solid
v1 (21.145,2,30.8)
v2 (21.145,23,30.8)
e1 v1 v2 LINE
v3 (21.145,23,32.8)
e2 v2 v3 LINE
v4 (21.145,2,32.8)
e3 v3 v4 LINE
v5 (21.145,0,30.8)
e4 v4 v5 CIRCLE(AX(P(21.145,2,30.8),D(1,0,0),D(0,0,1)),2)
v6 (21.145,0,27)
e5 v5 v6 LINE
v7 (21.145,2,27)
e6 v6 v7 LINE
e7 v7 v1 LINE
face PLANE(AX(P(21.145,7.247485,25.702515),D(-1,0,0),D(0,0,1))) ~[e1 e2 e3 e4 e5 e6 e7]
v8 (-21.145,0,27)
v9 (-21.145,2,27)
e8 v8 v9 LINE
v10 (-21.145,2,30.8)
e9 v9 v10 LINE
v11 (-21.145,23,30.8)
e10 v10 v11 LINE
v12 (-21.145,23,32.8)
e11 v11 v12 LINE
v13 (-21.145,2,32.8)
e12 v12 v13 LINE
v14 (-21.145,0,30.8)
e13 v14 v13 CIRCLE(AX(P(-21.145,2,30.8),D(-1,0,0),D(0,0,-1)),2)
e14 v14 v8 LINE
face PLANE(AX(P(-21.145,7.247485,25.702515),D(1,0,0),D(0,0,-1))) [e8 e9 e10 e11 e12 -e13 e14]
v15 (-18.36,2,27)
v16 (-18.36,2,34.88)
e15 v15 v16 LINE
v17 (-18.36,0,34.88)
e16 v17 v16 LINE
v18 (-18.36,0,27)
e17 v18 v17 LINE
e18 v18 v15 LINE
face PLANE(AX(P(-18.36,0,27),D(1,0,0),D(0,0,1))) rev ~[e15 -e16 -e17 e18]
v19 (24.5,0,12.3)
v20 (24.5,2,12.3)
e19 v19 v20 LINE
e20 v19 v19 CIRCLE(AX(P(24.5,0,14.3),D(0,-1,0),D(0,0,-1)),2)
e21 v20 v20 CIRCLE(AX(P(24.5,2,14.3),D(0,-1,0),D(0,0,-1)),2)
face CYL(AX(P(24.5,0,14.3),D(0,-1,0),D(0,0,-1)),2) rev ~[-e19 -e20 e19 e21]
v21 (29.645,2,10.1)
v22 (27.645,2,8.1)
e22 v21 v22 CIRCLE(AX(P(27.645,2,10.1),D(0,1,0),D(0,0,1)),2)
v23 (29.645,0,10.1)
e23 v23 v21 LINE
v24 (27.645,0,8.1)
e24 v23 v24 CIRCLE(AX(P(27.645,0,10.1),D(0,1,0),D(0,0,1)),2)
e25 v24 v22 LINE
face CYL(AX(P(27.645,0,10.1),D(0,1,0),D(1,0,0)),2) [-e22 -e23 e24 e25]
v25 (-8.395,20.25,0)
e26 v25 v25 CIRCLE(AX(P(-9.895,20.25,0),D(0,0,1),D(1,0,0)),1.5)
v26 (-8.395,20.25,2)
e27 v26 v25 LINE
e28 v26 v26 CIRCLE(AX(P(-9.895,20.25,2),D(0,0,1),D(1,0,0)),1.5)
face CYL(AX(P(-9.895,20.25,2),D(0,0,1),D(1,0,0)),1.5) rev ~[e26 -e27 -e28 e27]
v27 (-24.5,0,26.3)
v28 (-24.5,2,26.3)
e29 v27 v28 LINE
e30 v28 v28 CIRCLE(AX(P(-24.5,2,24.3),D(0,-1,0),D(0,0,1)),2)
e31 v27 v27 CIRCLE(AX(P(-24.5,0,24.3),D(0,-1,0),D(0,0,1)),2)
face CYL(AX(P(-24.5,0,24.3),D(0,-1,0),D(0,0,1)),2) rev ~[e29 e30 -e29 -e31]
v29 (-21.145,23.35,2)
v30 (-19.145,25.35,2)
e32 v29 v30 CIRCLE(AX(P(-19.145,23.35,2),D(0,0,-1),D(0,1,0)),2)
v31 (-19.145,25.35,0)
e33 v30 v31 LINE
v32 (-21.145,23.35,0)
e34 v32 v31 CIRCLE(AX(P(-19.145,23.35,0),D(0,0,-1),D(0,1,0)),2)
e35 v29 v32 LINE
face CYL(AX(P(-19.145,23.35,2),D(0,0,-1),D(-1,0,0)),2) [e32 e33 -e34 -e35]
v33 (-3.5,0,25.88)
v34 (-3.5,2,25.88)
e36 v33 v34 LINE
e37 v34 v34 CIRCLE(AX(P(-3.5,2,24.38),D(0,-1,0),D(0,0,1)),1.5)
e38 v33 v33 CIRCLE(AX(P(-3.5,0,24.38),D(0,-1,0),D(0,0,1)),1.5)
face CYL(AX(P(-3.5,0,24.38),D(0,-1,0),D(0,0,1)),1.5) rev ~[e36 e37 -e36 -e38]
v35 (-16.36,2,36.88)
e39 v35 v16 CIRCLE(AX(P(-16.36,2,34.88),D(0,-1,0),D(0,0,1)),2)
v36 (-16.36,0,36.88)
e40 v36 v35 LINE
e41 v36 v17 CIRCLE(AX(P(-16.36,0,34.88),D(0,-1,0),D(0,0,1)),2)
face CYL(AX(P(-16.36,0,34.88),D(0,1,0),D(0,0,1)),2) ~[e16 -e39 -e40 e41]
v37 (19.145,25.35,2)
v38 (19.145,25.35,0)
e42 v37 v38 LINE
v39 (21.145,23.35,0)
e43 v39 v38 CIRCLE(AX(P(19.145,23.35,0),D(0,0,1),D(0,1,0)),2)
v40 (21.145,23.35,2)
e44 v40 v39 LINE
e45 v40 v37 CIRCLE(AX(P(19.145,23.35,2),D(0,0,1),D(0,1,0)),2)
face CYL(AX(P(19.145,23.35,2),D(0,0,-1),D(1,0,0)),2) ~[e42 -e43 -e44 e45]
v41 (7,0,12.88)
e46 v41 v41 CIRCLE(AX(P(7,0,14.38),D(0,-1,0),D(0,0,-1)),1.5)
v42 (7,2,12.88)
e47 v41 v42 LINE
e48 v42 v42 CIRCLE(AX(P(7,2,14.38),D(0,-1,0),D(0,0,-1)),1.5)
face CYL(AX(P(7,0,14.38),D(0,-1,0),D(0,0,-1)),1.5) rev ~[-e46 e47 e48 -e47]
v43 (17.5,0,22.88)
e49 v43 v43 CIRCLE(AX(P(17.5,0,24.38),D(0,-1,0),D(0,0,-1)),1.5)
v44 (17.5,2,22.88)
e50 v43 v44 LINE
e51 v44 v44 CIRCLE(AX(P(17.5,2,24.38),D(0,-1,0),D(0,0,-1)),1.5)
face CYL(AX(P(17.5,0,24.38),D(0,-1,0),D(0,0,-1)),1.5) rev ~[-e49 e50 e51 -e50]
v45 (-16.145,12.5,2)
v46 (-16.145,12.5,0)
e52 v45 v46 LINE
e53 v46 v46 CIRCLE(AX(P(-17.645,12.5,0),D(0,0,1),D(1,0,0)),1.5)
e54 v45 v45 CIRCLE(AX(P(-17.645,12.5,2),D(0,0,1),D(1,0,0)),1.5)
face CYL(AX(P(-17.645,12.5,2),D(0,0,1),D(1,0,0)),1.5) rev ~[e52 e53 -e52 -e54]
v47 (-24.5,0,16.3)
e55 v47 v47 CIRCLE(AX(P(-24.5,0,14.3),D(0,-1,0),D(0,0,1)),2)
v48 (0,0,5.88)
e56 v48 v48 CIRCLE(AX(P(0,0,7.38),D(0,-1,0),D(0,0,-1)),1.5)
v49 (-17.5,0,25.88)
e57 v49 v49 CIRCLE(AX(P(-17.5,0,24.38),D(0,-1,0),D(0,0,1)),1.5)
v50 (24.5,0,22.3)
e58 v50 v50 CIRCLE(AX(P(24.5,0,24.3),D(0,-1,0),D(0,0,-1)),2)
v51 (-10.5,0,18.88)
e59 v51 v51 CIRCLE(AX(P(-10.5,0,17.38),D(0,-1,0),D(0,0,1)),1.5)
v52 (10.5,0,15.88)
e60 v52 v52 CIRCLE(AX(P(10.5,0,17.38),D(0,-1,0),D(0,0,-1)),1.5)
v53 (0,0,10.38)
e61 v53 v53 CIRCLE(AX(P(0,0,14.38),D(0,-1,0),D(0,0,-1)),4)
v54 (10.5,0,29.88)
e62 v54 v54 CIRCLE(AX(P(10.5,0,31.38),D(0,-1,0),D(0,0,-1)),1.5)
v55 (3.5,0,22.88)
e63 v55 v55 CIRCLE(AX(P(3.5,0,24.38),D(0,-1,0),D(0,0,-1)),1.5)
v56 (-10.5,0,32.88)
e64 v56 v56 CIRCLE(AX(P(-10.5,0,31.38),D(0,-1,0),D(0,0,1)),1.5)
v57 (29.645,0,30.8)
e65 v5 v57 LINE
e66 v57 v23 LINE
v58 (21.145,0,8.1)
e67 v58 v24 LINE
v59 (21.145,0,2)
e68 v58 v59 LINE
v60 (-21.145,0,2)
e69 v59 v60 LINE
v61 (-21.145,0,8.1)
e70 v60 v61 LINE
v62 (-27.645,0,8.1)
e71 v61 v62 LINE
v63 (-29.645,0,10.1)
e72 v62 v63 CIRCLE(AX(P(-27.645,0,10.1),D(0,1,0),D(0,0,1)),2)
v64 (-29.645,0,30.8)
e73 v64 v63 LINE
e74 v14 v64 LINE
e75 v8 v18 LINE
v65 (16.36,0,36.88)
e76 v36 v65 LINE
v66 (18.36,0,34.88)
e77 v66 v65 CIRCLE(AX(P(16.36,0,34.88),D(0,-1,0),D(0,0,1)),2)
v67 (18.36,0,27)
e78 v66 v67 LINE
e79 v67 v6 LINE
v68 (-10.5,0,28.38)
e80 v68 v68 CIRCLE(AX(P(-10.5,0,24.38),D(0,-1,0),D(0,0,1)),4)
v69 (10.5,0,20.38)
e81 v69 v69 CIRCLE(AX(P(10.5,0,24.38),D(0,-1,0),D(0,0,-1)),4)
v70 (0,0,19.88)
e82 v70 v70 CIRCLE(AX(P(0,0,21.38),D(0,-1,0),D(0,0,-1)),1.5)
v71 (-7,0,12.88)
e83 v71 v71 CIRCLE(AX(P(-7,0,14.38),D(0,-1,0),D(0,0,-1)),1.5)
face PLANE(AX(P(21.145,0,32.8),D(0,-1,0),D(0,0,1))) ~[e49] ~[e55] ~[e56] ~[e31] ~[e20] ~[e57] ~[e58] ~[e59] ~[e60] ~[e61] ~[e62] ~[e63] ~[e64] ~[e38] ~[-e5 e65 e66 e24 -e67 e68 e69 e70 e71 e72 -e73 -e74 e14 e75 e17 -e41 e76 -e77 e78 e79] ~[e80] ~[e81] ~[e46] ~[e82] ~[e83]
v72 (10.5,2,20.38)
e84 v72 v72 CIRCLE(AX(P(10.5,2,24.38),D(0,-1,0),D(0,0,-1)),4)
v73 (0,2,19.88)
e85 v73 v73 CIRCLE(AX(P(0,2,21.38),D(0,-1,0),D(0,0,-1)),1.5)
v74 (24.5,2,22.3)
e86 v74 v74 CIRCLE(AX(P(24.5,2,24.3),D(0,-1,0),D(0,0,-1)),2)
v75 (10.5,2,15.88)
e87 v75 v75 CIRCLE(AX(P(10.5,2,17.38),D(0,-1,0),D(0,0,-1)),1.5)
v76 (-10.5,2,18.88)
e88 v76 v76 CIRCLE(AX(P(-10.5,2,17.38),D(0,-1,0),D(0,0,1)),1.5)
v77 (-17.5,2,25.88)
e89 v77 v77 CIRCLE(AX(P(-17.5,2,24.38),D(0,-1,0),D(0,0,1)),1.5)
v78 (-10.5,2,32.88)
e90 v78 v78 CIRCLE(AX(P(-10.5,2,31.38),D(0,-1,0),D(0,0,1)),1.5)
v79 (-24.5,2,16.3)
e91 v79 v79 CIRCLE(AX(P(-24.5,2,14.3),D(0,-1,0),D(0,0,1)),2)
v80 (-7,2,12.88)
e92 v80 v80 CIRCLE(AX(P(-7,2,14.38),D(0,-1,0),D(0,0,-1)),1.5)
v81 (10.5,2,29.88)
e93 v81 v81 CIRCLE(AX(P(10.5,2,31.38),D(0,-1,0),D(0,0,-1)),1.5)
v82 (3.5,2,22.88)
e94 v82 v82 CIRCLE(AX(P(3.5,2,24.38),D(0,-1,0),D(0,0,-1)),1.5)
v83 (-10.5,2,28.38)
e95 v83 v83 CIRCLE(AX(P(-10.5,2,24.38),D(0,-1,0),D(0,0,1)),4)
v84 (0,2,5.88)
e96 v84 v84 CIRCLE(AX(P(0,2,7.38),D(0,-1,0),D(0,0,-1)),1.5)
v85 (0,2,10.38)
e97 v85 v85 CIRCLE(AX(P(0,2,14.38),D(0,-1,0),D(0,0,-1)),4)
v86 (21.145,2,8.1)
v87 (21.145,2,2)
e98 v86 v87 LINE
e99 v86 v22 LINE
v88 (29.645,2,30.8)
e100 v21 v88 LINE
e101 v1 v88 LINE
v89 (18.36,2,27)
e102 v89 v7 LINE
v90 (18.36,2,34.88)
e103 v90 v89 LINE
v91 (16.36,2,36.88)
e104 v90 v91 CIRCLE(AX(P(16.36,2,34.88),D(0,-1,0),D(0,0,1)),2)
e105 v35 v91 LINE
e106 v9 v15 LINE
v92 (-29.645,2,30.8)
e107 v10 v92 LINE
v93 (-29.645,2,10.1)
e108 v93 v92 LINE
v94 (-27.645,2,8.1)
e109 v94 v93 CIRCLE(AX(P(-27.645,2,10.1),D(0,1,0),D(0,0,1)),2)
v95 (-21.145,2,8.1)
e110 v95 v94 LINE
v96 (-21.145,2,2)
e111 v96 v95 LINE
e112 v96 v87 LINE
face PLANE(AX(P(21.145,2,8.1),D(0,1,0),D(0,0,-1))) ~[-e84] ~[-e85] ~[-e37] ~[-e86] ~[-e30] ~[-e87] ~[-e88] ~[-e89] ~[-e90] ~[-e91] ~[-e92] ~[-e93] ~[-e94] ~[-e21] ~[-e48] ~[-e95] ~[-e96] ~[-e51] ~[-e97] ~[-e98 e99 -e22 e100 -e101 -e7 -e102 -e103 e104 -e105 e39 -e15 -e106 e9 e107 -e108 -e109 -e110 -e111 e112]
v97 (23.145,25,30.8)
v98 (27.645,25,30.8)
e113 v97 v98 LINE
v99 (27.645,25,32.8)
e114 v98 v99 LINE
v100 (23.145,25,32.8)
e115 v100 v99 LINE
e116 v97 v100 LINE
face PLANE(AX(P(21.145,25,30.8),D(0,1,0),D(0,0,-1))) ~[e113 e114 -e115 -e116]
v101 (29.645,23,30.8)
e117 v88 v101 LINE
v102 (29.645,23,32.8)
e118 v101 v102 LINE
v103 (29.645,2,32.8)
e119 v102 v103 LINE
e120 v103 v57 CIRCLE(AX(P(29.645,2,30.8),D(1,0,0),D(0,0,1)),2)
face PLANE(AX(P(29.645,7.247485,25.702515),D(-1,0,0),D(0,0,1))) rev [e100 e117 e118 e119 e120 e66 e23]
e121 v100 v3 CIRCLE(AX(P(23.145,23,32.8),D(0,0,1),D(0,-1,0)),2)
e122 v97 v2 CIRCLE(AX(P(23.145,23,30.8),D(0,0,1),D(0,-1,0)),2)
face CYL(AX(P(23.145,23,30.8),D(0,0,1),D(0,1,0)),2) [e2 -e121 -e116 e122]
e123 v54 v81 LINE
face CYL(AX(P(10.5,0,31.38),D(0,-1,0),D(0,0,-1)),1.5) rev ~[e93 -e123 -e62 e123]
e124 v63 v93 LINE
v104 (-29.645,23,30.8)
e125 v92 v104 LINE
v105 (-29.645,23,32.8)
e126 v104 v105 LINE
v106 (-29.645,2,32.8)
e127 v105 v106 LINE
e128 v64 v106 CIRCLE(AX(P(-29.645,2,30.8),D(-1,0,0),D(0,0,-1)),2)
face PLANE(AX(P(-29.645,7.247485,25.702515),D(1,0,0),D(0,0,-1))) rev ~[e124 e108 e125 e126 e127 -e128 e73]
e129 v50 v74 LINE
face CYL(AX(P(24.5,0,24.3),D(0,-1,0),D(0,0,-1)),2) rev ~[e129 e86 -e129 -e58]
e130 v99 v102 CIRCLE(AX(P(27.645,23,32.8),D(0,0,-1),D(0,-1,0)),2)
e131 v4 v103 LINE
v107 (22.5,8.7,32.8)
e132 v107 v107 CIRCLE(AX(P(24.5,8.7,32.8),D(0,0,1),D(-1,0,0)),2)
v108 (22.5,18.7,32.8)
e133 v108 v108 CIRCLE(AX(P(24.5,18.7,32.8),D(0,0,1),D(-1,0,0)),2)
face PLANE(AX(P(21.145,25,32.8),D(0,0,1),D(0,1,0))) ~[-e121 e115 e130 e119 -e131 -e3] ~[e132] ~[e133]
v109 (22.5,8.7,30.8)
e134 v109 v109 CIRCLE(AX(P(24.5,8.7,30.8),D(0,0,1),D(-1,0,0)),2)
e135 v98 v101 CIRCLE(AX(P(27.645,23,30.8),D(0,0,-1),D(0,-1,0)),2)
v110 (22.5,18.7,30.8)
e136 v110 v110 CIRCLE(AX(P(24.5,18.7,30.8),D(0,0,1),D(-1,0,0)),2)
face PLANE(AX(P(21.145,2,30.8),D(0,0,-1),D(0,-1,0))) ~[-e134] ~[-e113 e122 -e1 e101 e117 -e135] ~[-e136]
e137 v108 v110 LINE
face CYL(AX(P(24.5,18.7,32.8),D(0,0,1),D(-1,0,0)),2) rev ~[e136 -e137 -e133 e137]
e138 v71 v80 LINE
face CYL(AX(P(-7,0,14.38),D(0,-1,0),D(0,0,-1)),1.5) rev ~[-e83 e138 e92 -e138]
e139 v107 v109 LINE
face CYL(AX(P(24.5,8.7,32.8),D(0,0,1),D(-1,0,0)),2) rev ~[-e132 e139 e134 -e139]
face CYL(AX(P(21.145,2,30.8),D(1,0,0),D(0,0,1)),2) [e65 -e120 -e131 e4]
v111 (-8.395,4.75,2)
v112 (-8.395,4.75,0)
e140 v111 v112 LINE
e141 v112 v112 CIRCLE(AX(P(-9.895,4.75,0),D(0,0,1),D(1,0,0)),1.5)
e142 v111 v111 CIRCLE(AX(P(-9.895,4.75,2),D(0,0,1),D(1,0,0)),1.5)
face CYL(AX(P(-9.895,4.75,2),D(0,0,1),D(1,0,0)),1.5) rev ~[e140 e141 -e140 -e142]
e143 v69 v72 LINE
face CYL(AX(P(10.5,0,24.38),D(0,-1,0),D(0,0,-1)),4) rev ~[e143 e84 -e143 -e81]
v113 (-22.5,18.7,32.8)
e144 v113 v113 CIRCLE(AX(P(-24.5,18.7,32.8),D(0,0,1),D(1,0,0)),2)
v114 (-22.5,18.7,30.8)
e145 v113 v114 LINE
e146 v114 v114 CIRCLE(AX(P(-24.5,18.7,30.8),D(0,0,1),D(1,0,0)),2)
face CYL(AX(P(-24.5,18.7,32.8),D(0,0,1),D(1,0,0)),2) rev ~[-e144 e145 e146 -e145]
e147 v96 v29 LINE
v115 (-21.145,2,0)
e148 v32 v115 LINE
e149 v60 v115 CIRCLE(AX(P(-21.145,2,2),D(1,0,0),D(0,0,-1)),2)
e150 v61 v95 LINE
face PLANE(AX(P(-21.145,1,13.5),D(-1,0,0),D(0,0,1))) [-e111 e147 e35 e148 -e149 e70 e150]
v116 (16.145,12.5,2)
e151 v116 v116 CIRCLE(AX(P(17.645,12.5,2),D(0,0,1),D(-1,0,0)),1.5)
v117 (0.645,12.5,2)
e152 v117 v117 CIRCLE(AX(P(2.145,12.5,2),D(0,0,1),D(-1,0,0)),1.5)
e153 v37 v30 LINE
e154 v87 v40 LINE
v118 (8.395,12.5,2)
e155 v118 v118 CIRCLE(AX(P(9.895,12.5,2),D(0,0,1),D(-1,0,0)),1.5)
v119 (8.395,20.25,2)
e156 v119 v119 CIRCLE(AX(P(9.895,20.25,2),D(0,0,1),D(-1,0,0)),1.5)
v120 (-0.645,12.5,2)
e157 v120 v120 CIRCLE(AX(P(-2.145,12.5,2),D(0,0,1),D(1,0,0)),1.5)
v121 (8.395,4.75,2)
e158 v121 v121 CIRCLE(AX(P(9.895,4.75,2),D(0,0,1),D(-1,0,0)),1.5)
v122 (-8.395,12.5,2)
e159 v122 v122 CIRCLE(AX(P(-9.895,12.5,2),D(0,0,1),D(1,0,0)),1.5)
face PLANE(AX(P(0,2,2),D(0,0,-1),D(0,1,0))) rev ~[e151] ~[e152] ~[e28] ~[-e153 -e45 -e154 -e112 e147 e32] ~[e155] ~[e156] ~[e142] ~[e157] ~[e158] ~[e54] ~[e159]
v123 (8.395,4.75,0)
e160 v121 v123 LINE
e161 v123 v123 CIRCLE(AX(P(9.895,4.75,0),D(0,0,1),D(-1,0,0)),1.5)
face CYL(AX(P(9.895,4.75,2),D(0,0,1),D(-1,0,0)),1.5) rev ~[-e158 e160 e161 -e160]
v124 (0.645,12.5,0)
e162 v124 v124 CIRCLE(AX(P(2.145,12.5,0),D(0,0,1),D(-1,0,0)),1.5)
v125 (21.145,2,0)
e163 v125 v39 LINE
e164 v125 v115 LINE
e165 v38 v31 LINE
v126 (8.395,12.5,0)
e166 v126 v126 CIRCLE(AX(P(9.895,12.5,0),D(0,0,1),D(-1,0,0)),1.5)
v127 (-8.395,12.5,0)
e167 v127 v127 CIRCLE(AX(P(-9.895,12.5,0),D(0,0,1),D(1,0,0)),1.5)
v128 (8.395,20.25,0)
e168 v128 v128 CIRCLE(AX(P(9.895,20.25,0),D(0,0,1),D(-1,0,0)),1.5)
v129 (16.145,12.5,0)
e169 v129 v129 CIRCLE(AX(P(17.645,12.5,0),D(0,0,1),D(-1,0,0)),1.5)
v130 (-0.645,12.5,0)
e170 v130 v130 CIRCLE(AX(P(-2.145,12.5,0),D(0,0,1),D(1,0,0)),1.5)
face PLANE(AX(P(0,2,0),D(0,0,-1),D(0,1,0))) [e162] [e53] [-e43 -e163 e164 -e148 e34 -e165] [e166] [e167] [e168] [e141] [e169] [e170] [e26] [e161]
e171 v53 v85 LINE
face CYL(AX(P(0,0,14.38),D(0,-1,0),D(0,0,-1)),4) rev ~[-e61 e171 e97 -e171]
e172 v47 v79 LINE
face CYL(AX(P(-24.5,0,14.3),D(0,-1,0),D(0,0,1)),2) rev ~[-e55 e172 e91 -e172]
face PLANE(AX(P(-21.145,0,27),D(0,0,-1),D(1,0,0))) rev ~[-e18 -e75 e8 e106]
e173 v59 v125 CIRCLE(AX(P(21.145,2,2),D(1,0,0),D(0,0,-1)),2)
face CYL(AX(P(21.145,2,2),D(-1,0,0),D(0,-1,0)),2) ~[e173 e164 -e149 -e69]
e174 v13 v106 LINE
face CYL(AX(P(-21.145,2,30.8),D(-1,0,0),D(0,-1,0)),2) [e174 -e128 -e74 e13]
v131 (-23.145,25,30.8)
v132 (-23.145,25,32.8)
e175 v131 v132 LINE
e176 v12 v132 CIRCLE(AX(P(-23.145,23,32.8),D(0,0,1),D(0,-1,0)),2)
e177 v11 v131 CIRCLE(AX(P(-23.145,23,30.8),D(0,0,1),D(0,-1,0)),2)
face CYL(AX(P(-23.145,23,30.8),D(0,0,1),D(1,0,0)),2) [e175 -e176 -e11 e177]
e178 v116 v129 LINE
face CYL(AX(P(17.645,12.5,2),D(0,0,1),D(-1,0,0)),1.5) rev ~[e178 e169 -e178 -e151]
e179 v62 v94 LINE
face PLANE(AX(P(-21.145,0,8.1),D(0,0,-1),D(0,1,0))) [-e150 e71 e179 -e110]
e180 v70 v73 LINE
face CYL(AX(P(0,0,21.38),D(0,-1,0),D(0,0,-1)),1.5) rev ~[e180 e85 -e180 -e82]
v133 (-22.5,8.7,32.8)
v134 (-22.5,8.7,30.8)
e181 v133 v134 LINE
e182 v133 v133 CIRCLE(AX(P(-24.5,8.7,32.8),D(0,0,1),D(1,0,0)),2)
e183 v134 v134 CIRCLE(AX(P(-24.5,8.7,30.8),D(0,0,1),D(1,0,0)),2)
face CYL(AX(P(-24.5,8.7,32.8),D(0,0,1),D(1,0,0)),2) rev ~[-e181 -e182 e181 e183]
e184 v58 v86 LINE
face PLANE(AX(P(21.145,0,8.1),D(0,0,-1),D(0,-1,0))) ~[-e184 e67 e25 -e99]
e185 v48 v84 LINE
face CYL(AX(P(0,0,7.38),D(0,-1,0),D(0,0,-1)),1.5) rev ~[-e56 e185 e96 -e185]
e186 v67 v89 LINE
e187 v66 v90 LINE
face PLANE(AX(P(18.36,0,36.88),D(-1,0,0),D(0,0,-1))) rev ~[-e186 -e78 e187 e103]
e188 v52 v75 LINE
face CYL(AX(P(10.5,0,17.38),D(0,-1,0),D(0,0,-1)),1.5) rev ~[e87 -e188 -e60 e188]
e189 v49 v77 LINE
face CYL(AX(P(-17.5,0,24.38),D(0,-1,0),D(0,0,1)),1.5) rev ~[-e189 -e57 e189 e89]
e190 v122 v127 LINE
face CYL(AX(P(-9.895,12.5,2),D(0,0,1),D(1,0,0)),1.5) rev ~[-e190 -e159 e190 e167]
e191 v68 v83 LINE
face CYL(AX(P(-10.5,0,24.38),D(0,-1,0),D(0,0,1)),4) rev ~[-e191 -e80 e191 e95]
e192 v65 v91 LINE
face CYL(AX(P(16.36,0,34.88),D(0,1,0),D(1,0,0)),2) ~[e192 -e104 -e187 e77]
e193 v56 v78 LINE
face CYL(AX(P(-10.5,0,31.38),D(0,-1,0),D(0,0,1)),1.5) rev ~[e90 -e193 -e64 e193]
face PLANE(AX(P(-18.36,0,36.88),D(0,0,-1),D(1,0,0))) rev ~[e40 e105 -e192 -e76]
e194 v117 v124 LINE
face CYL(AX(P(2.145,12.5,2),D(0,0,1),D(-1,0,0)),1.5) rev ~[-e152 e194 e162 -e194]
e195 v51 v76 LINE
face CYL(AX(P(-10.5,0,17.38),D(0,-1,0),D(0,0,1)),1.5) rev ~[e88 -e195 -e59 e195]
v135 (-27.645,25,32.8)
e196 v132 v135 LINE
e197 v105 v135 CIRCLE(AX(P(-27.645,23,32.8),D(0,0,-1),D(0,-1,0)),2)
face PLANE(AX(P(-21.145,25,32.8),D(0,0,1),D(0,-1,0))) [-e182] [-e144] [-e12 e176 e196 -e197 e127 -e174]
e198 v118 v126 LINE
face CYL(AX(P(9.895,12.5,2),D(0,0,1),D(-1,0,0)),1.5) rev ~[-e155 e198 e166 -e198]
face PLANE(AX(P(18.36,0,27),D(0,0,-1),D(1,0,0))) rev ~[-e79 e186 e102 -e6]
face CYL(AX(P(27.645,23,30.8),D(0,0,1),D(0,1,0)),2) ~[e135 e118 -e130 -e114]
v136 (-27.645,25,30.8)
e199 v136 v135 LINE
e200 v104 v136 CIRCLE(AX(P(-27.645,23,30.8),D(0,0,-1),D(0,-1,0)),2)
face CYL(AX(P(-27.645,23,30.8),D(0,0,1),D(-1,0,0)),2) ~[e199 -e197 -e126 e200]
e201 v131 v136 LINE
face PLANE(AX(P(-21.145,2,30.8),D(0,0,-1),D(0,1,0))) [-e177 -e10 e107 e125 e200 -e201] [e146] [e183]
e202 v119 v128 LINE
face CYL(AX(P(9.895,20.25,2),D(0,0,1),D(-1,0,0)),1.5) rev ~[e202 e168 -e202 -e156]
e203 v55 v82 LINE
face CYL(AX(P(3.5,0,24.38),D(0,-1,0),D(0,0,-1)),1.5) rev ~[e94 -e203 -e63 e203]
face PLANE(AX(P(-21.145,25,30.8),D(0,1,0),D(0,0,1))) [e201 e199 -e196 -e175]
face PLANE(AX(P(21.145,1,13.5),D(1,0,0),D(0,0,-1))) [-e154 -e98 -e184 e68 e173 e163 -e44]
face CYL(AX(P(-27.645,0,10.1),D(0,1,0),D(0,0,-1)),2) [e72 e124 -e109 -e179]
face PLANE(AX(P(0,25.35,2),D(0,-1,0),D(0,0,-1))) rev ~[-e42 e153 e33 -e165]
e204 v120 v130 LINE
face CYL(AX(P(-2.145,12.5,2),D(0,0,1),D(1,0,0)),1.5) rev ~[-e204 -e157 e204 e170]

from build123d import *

# Parameters (mm, degrees)
EXTRUDE_1_DEPTH             = 2
EXTRUDE_2_REACH             = 44.559
SKETCH_2_W                  = 2
SKETCH_2_H                  = 23.35
EXTRUDE_2_DIRECTION_2_REACH = 44.559
EXTRUDE_3_DEPTH             = 8.5
CUT_EXTRUDE_1_REACH         = 55.68
SKETCH_4_R                  = 1.5
SKETCH_4_R_2                = 4
SKETCH_4_R_3                = 2
FILLET_1_R                  = 2
CUT_EXTRUDE_2_REACH         = 52.964
SKETCH_5_R                  = 2
SKETCH_6_R                  = 1.5
CUT_EXTRUDE_3_DEPTH         = 53.326503084


with BuildPart() as part:
    # 草图1 → 凸台-拉伸1 (new body)
    with BuildSketch(Plane(origin=(0, 0, 0), x_dir=(1, 0, 0), z_dir=(0, 1, 0))):
        Polygon((21.145, 0), (-21.145, 0), (-21.145, -27), (-18.36, -27), (-18.36, -36.88), (18.36, -36.88), (18.36, -27), (21.145, -27), align=None)
    extrude(amount=EXTRUDE_1_DEPTH)

    # 凸台-拉伸2: up to this face of the body (flat: up to its plane)
    extrude_2_end = Plane(part.part.faces().sort_by_distance((21.145, 1, 13.5))[0])
    # 草图2 → 凸台-拉伸2 (add, up to the picked face)
    with BuildSketch(Plane(origin=(0, 0, 0), x_dir=(0, 0, -1), z_dir=(1, 0, 0)), mode=Mode.PRIVATE) as extrude_2_sk1:
        with Locations((-1, 13.675)):
            Rectangle(SKETCH_2_W, SKETCH_2_H)
    extrude_2_tool1 = split(extrude(extrude_2_sk1.sketch, amount=EXTRUDE_2_REACH, mode=Mode.PRIVATE), bisect_by=extrude_2_end, keep=Keep.BOTH, mode=Mode.PRIVATE)
    add(extrude_2_tool1.solids().sort_by(Axis((0, 13.675, 1), (1, 0, 0)))[0])

    # 凸台-拉伸2 direction 2: up to this face of the body (flat: up to its plane)
    extrude_2_direction_2_end = Plane(part.part.faces().sort_by_distance((-21.145, 1, 13.5))[0])
    # 草图2 → 凸台-拉伸2 direction 2 (add, up to the picked face)
    with BuildSketch(Plane(origin=(0, 0, 0), x_dir=(0, 0, -1), z_dir=(1, 0, 0)), mode=Mode.PRIVATE) as extrude_2_direction_2_sk1:
        with Locations((-1, 13.675)):
            Rectangle(SKETCH_2_W, SKETCH_2_H)
    extrude_2_direction_2_tool1 = split(extrude(extrude_2_direction_2_sk1.sketch, amount=-EXTRUDE_2_DIRECTION_2_REACH, mode=Mode.PRIVATE), bisect_by=extrude_2_direction_2_end, keep=Keep.BOTH, mode=Mode.PRIVATE)
    add(extrude_2_direction_2_tool1.solids().sort_by(Axis((0, 13.675, 1), (-1, 0, 0)))[0])

    # 草图3 → 凸台-拉伸3 (add)
    with BuildSketch(Plane.ZY.offset(21.145)):
        Polygon((32.8, 25), (32.8, 0), (8.1, 0), (8.1, 2), (30.8, 2), (30.8, 25), align=None)
    extrude_3 = extrude(amount=EXTRUDE_3_DEPTH)

    # 镜向1: 凸台-拉伸3 across plane
    add(extrude_3.mirror(Plane(origin=(0, 0, 0), x_dir=(0, 0, 1), z_dir=(1, 0, 0))))

    # 草图4 → 切除-拉伸1 (cut, up to next)
    with BuildSketch(Plane.XZ, mode=Mode.PRIVATE) as cut_extrude_1_sk1:
        with Locations(Location((10.5, 31.38, 0), (0, 0, 270))):
            Circle(SKETCH_4_R)
    cut_extrude_1_tool1 = extrude(cut_extrude_1_sk1.sketch, amount=-CUT_EXTRUDE_1_REACH, mode=Mode.PRIVATE) & part.part
    # 草图4 → 切除-拉伸1 (cut, up to next)
    with BuildSketch(Plane.XZ, mode=Mode.PRIVATE) as cut_extrude_1_sk2:
        with Locations(Location((17.5, 24.38, 0), (0, 0, 270))):
            Circle(SKETCH_4_R)
    cut_extrude_1_tool2 = extrude(cut_extrude_1_sk2.sketch, amount=-CUT_EXTRUDE_1_REACH, mode=Mode.PRIVATE) & part.part
    # 草图4 → 切除-拉伸1 (cut, up to next)
    with BuildSketch(Plane.XZ, mode=Mode.PRIVATE) as cut_extrude_1_sk3:
        with Locations(Location((10.5, 17.38, 0), (0, 0, 270))):
            Circle(SKETCH_4_R)
    cut_extrude_1_tool3 = extrude(cut_extrude_1_sk3.sketch, amount=-CUT_EXTRUDE_1_REACH, mode=Mode.PRIVATE) & part.part
    # 草图4 → 切除-拉伸1 (cut, up to next)
    with BuildSketch(Plane.XZ, mode=Mode.PRIVATE) as cut_extrude_1_sk4:
        with Locations(Location((3.5, 24.38, 0), (0, 0, 270))):
            Circle(SKETCH_4_R)
    cut_extrude_1_tool4 = extrude(cut_extrude_1_sk4.sketch, amount=-CUT_EXTRUDE_1_REACH, mode=Mode.PRIVATE) & part.part
    # 草图4 → 切除-拉伸1 (cut, up to next)
    with BuildSketch(Plane.XZ, mode=Mode.PRIVATE) as cut_extrude_1_sk5:
        with Locations(Location((-17.5, 24.38, 0), (0, 0, 90))):
            Circle(SKETCH_4_R)
    cut_extrude_1_tool5 = extrude(cut_extrude_1_sk5.sketch, amount=-CUT_EXTRUDE_1_REACH, mode=Mode.PRIVATE) & part.part
    # 草图4 → 切除-拉伸1 (cut, up to next)
    with BuildSketch(Plane.XZ, mode=Mode.PRIVATE) as cut_extrude_1_sk6:
        with Locations(Location((-10.5, 17.38, 0), (0, 0, 90))):
            Circle(SKETCH_4_R)
    cut_extrude_1_tool6 = extrude(cut_extrude_1_sk6.sketch, amount=-CUT_EXTRUDE_1_REACH, mode=Mode.PRIVATE) & part.part
    # 草图4 → 切除-拉伸1 (cut, up to next)
    with BuildSketch(Plane.XZ, mode=Mode.PRIVATE) as cut_extrude_1_sk7:
        with Locations(Location((-3.5, 24.38, 0), (0, 0, 90))):
            Circle(SKETCH_4_R)
    cut_extrude_1_tool7 = extrude(cut_extrude_1_sk7.sketch, amount=-CUT_EXTRUDE_1_REACH, mode=Mode.PRIVATE) & part.part
    # 草图4 → 切除-拉伸1 (cut, up to next)
    with BuildSketch(Plane.XZ, mode=Mode.PRIVATE) as cut_extrude_1_sk8:
        with Locations(Location((-10.5, 31.38, 0), (0, 0, 90))):
            Circle(SKETCH_4_R)
    cut_extrude_1_tool8 = extrude(cut_extrude_1_sk8.sketch, amount=-CUT_EXTRUDE_1_REACH, mode=Mode.PRIVATE) & part.part
    # 草图4 → 切除-拉伸1 (cut, up to next)
    with BuildSketch(Plane.XZ, mode=Mode.PRIVATE) as cut_extrude_1_sk9:
        with Locations(Location((0, 21.38, 0), (0, 0, 270))):
            Circle(SKETCH_4_R)
    cut_extrude_1_tool9 = extrude(cut_extrude_1_sk9.sketch, amount=-CUT_EXTRUDE_1_REACH, mode=Mode.PRIVATE) & part.part
    # 草图4 → 切除-拉伸1 (cut, up to next)
    with BuildSketch(Plane.XZ, mode=Mode.PRIVATE) as cut_extrude_1_sk10:
        with Locations(Location((7, 14.38, 0), (0, 0, 270))):
            Circle(SKETCH_4_R)
    cut_extrude_1_tool10 = extrude(cut_extrude_1_sk10.sketch, amount=-CUT_EXTRUDE_1_REACH, mode=Mode.PRIVATE) & part.part
    # 草图4 → 切除-拉伸1 (cut, up to next)
    with BuildSketch(Plane.XZ, mode=Mode.PRIVATE) as cut_extrude_1_sk11:
        with Locations(Location((0, 7.38, 0), (0, 0, 270))):
            Circle(SKETCH_4_R)
    cut_extrude_1_tool11 = extrude(cut_extrude_1_sk11.sketch, amount=-CUT_EXTRUDE_1_REACH, mode=Mode.PRIVATE) & part.part
    # 草图4 → 切除-拉伸1 (cut, up to next)
    with BuildSketch(Plane.XZ, mode=Mode.PRIVATE) as cut_extrude_1_sk12:
        with Locations(Location((-7, 14.38, 0), (0, 0, 270))):
            Circle(SKETCH_4_R)
    cut_extrude_1_tool12 = extrude(cut_extrude_1_sk12.sketch, amount=-CUT_EXTRUDE_1_REACH, mode=Mode.PRIVATE) & part.part
    # 草图4 → 切除-拉伸1 (cut, up to next)
    with BuildSketch(Plane.XZ, mode=Mode.PRIVATE) as cut_extrude_1_sk13:
        with Locations(Location((10.5, 24.38, 0), (0, 0, 270))):
            Circle(SKETCH_4_R_2)
    cut_extrude_1_tool13 = extrude(cut_extrude_1_sk13.sketch, amount=-CUT_EXTRUDE_1_REACH, mode=Mode.PRIVATE) & part.part
    # 草图4 → 切除-拉伸1 (cut, up to next)
    with BuildSketch(Plane.XZ, mode=Mode.PRIVATE) as cut_extrude_1_sk14:
        with Locations(Location((-10.5, 24.38, 0), (0, 0, 90))):
            Circle(SKETCH_4_R_2)
    cut_extrude_1_tool14 = extrude(cut_extrude_1_sk14.sketch, amount=-CUT_EXTRUDE_1_REACH, mode=Mode.PRIVATE) & part.part
    # 草图4 → 切除-拉伸1 (cut, up to next)
    with BuildSketch(Plane.XZ, mode=Mode.PRIVATE) as cut_extrude_1_sk15:
        with Locations(Location((0, 14.38, 0), (0, 0, 270))):
            Circle(SKETCH_4_R_2)
    cut_extrude_1_tool15 = extrude(cut_extrude_1_sk15.sketch, amount=-CUT_EXTRUDE_1_REACH, mode=Mode.PRIVATE) & part.part
    # 草图4 → 切除-拉伸1 (cut, up to next)
    with BuildSketch(Plane.XZ, mode=Mode.PRIVATE) as cut_extrude_1_sk16:
        with Locations(Location((24.5, 24.3, 0), (0, 0, 270))):
            Circle(SKETCH_4_R_3)
    cut_extrude_1_tool16 = extrude(cut_extrude_1_sk16.sketch, amount=-CUT_EXTRUDE_1_REACH, mode=Mode.PRIVATE) & part.part
    # 草图4 → 切除-拉伸1 (cut, up to next)
    with BuildSketch(Plane.XZ, mode=Mode.PRIVATE) as cut_extrude_1_sk17:
        with Locations(Location((24.5, 14.3, 0), (0, 0, 270))):
            Circle(SKETCH_4_R_3)
    cut_extrude_1_tool17 = extrude(cut_extrude_1_sk17.sketch, amount=-CUT_EXTRUDE_1_REACH, mode=Mode.PRIVATE) & part.part
    # 草图4 → 切除-拉伸1 (cut, up to next)
    with BuildSketch(Plane.XZ, mode=Mode.PRIVATE) as cut_extrude_1_sk18:
        with Locations(Location((-24.5, 14.3, 0), (0, 0, 90))):
            Circle(SKETCH_4_R_3)
    cut_extrude_1_tool18 = extrude(cut_extrude_1_sk18.sketch, amount=-CUT_EXTRUDE_1_REACH, mode=Mode.PRIVATE) & part.part
    # 草图4 → 切除-拉伸1 (cut, up to next)
    with BuildSketch(Plane.XZ, mode=Mode.PRIVATE) as cut_extrude_1_sk19:
        with Locations(Location((-24.5, 24.3, 0), (0, 0, 90))):
            Circle(SKETCH_4_R_3)
    cut_extrude_1_tool19 = extrude(cut_extrude_1_sk19.sketch, amount=-CUT_EXTRUDE_1_REACH, mode=Mode.PRIVATE) & part.part
    add(cut_extrude_1_tool1.solids().sort_by_distance((10.5, 0, 31.38))[0], mode=Mode.SUBTRACT)
    add(cut_extrude_1_tool2.solids().sort_by_distance((17.5, 0, 24.38))[0], mode=Mode.SUBTRACT)
    add(cut_extrude_1_tool3.solids().sort_by_distance((10.5, 0, 17.38))[0], mode=Mode.SUBTRACT)
    add(cut_extrude_1_tool4.solids().sort_by_distance((3.5, 0, 24.38))[0], mode=Mode.SUBTRACT)
    add(cut_extrude_1_tool5.solids().sort_by_distance((-17.5, 0, 24.38))[0], mode=Mode.SUBTRACT)
    add(cut_extrude_1_tool6.solids().sort_by_distance((-10.5, 0, 17.38))[0], mode=Mode.SUBTRACT)
    add(cut_extrude_1_tool7.solids().sort_by_distance((-3.5, 0, 24.38))[0], mode=Mode.SUBTRACT)
    add(cut_extrude_1_tool8.solids().sort_by_distance((-10.5, 0, 31.38))[0], mode=Mode.SUBTRACT)
    add(cut_extrude_1_tool9.solids().sort_by_distance((0, 0, 21.38))[0], mode=Mode.SUBTRACT)
    add(cut_extrude_1_tool10.solids().sort_by_distance((7, 0, 14.38))[0], mode=Mode.SUBTRACT)
    add(cut_extrude_1_tool11.solids().sort_by_distance((0, 0, 7.38))[0], mode=Mode.SUBTRACT)
    add(cut_extrude_1_tool12.solids().sort_by_distance((-7, 0, 14.38))[0], mode=Mode.SUBTRACT)
    add(cut_extrude_1_tool13.solids().sort_by_distance((10.5, 0, 24.38))[0], mode=Mode.SUBTRACT)
    add(cut_extrude_1_tool14.solids().sort_by_distance((-10.5, 0, 24.38))[0], mode=Mode.SUBTRACT)
    add(cut_extrude_1_tool15.solids().sort_by_distance((0, 0, 14.38))[0], mode=Mode.SUBTRACT)
    add(cut_extrude_1_tool16.solids().sort_by_distance((24.5, 0, 24.3))[0], mode=Mode.SUBTRACT)
    add(cut_extrude_1_tool17.solids().sort_by_distance((24.5, 0, 14.3))[0], mode=Mode.SUBTRACT)
    add(cut_extrude_1_tool18.solids().sort_by_distance((-24.5, 0, 14.3))[0], mode=Mode.SUBTRACT)
    add(cut_extrude_1_tool19.solids().sort_by_distance((-24.5, 0, 24.3))[0], mode=Mode.SUBTRACT)

    # 圆角1
    fillet_1_edges = [part.edges().sort_by_distance(p)[0] for p in [
        (25.395, 0, 32.8),
        (-25.395, 0, 32.8),
        (-18.36, 1, 36.88),
        (18.36, 1, 36.88),
        (-29.645, 25, 31.8),
        (29.645, 25, 31.8),
        (21.145, 25.35, 1),
        (-21.145, 25.35, 1),
        (-29.645, 1, 8.1),
        (29.645, 1, 8.1),
        (0, 0, 0),
        (-21.145, 25, 31.8),
        (21.145, 25, 31.8),
    ]]
    fillet(fillet_1_edges, radius=FILLET_1_R)

    # 草图5 → 切除-拉伸2 (cut, up to next)
    with BuildSketch(Plane.XY.offset(32.8), mode=Mode.PRIVATE) as cut_extrude_2_sk1:
        with Locations((-24.5, 18.7)):
            Circle(SKETCH_5_R)
    cut_extrude_2_tool1 = extrude(cut_extrude_2_sk1.sketch, amount=-CUT_EXTRUDE_2_REACH, mode=Mode.PRIVATE) & part.part
    # 草图5 → 切除-拉伸2 (cut, up to next)
    with BuildSketch(Plane.XY.offset(32.8), mode=Mode.PRIVATE) as cut_extrude_2_sk2:
        with Locations((-24.5, 8.7)):
            Circle(SKETCH_5_R)
    cut_extrude_2_tool2 = extrude(cut_extrude_2_sk2.sketch, amount=-CUT_EXTRUDE_2_REACH, mode=Mode.PRIVATE) & part.part
    # 草图5 → 切除-拉伸2 (cut, up to next)
    with BuildSketch(Plane.XY.offset(32.8), mode=Mode.PRIVATE) as cut_extrude_2_sk3:
        with Locations(Location((24.5, 8.7, 0), (0, 0, 180))):
            Circle(SKETCH_5_R)
    cut_extrude_2_tool3 = extrude(cut_extrude_2_sk3.sketch, amount=-CUT_EXTRUDE_2_REACH, mode=Mode.PRIVATE) & part.part
    # 草图5 → 切除-拉伸2 (cut, up to next)
    with BuildSketch(Plane.XY.offset(32.8), mode=Mode.PRIVATE) as cut_extrude_2_sk4:
        with Locations(Location((24.5, 18.7, 0), (0, 0, 180))):
            Circle(SKETCH_5_R)
    cut_extrude_2_tool4 = extrude(cut_extrude_2_sk4.sketch, amount=-CUT_EXTRUDE_2_REACH, mode=Mode.PRIVATE) & part.part
    add(cut_extrude_2_tool1.solids().sort_by_distance((-24.5, 18.7, 32.8))[0], mode=Mode.SUBTRACT)
    add(cut_extrude_2_tool2.solids().sort_by_distance((-24.5, 8.7, 32.8))[0], mode=Mode.SUBTRACT)
    add(cut_extrude_2_tool3.solids().sort_by_distance((24.5, 8.7, 32.8))[0], mode=Mode.SUBTRACT)
    add(cut_extrude_2_tool4.solids().sort_by_distance((24.5, 18.7, 32.8))[0], mode=Mode.SUBTRACT)

    # 草图6 → 切除-拉伸3 (cut, through all)
    with BuildSketch(Plane.XY.offset(2)):
        with Locations((-9.895, 12.5)):
            Circle(SKETCH_6_R)
        with Locations((-17.645, 12.5)):
            Circle(SKETCH_6_R)
        with Locations((-9.895, 20.25)):
            Circle(SKETCH_6_R)
        with Locations((-2.145, 12.5)):
            Circle(SKETCH_6_R)
        with Locations((-9.895, 4.75)):
            Circle(SKETCH_6_R)
        with Locations(Location((9.895, 4.75, 0), (0, 0, 180))):
            Circle(SKETCH_6_R)
        with Locations(Location((9.895, 12.5, 0), (0, 0, 180))):
            Circle(SKETCH_6_R)
        with Locations(Location((2.145, 12.5, 0), (0, 0, 180))):
            Circle(SKETCH_6_R)
        with Locations(Location((9.895, 20.25, 0), (0, 0, 180))):
            Circle(SKETCH_6_R)
        with Locations(Location((17.645, 12.5, 0), (0, 0, 180))):
            Circle(SKETCH_6_R)
    extrude(amount=-CUT_EXTRUDE_3_DEPTH, mode=Mode.SUBTRACT)


solid = part.part
